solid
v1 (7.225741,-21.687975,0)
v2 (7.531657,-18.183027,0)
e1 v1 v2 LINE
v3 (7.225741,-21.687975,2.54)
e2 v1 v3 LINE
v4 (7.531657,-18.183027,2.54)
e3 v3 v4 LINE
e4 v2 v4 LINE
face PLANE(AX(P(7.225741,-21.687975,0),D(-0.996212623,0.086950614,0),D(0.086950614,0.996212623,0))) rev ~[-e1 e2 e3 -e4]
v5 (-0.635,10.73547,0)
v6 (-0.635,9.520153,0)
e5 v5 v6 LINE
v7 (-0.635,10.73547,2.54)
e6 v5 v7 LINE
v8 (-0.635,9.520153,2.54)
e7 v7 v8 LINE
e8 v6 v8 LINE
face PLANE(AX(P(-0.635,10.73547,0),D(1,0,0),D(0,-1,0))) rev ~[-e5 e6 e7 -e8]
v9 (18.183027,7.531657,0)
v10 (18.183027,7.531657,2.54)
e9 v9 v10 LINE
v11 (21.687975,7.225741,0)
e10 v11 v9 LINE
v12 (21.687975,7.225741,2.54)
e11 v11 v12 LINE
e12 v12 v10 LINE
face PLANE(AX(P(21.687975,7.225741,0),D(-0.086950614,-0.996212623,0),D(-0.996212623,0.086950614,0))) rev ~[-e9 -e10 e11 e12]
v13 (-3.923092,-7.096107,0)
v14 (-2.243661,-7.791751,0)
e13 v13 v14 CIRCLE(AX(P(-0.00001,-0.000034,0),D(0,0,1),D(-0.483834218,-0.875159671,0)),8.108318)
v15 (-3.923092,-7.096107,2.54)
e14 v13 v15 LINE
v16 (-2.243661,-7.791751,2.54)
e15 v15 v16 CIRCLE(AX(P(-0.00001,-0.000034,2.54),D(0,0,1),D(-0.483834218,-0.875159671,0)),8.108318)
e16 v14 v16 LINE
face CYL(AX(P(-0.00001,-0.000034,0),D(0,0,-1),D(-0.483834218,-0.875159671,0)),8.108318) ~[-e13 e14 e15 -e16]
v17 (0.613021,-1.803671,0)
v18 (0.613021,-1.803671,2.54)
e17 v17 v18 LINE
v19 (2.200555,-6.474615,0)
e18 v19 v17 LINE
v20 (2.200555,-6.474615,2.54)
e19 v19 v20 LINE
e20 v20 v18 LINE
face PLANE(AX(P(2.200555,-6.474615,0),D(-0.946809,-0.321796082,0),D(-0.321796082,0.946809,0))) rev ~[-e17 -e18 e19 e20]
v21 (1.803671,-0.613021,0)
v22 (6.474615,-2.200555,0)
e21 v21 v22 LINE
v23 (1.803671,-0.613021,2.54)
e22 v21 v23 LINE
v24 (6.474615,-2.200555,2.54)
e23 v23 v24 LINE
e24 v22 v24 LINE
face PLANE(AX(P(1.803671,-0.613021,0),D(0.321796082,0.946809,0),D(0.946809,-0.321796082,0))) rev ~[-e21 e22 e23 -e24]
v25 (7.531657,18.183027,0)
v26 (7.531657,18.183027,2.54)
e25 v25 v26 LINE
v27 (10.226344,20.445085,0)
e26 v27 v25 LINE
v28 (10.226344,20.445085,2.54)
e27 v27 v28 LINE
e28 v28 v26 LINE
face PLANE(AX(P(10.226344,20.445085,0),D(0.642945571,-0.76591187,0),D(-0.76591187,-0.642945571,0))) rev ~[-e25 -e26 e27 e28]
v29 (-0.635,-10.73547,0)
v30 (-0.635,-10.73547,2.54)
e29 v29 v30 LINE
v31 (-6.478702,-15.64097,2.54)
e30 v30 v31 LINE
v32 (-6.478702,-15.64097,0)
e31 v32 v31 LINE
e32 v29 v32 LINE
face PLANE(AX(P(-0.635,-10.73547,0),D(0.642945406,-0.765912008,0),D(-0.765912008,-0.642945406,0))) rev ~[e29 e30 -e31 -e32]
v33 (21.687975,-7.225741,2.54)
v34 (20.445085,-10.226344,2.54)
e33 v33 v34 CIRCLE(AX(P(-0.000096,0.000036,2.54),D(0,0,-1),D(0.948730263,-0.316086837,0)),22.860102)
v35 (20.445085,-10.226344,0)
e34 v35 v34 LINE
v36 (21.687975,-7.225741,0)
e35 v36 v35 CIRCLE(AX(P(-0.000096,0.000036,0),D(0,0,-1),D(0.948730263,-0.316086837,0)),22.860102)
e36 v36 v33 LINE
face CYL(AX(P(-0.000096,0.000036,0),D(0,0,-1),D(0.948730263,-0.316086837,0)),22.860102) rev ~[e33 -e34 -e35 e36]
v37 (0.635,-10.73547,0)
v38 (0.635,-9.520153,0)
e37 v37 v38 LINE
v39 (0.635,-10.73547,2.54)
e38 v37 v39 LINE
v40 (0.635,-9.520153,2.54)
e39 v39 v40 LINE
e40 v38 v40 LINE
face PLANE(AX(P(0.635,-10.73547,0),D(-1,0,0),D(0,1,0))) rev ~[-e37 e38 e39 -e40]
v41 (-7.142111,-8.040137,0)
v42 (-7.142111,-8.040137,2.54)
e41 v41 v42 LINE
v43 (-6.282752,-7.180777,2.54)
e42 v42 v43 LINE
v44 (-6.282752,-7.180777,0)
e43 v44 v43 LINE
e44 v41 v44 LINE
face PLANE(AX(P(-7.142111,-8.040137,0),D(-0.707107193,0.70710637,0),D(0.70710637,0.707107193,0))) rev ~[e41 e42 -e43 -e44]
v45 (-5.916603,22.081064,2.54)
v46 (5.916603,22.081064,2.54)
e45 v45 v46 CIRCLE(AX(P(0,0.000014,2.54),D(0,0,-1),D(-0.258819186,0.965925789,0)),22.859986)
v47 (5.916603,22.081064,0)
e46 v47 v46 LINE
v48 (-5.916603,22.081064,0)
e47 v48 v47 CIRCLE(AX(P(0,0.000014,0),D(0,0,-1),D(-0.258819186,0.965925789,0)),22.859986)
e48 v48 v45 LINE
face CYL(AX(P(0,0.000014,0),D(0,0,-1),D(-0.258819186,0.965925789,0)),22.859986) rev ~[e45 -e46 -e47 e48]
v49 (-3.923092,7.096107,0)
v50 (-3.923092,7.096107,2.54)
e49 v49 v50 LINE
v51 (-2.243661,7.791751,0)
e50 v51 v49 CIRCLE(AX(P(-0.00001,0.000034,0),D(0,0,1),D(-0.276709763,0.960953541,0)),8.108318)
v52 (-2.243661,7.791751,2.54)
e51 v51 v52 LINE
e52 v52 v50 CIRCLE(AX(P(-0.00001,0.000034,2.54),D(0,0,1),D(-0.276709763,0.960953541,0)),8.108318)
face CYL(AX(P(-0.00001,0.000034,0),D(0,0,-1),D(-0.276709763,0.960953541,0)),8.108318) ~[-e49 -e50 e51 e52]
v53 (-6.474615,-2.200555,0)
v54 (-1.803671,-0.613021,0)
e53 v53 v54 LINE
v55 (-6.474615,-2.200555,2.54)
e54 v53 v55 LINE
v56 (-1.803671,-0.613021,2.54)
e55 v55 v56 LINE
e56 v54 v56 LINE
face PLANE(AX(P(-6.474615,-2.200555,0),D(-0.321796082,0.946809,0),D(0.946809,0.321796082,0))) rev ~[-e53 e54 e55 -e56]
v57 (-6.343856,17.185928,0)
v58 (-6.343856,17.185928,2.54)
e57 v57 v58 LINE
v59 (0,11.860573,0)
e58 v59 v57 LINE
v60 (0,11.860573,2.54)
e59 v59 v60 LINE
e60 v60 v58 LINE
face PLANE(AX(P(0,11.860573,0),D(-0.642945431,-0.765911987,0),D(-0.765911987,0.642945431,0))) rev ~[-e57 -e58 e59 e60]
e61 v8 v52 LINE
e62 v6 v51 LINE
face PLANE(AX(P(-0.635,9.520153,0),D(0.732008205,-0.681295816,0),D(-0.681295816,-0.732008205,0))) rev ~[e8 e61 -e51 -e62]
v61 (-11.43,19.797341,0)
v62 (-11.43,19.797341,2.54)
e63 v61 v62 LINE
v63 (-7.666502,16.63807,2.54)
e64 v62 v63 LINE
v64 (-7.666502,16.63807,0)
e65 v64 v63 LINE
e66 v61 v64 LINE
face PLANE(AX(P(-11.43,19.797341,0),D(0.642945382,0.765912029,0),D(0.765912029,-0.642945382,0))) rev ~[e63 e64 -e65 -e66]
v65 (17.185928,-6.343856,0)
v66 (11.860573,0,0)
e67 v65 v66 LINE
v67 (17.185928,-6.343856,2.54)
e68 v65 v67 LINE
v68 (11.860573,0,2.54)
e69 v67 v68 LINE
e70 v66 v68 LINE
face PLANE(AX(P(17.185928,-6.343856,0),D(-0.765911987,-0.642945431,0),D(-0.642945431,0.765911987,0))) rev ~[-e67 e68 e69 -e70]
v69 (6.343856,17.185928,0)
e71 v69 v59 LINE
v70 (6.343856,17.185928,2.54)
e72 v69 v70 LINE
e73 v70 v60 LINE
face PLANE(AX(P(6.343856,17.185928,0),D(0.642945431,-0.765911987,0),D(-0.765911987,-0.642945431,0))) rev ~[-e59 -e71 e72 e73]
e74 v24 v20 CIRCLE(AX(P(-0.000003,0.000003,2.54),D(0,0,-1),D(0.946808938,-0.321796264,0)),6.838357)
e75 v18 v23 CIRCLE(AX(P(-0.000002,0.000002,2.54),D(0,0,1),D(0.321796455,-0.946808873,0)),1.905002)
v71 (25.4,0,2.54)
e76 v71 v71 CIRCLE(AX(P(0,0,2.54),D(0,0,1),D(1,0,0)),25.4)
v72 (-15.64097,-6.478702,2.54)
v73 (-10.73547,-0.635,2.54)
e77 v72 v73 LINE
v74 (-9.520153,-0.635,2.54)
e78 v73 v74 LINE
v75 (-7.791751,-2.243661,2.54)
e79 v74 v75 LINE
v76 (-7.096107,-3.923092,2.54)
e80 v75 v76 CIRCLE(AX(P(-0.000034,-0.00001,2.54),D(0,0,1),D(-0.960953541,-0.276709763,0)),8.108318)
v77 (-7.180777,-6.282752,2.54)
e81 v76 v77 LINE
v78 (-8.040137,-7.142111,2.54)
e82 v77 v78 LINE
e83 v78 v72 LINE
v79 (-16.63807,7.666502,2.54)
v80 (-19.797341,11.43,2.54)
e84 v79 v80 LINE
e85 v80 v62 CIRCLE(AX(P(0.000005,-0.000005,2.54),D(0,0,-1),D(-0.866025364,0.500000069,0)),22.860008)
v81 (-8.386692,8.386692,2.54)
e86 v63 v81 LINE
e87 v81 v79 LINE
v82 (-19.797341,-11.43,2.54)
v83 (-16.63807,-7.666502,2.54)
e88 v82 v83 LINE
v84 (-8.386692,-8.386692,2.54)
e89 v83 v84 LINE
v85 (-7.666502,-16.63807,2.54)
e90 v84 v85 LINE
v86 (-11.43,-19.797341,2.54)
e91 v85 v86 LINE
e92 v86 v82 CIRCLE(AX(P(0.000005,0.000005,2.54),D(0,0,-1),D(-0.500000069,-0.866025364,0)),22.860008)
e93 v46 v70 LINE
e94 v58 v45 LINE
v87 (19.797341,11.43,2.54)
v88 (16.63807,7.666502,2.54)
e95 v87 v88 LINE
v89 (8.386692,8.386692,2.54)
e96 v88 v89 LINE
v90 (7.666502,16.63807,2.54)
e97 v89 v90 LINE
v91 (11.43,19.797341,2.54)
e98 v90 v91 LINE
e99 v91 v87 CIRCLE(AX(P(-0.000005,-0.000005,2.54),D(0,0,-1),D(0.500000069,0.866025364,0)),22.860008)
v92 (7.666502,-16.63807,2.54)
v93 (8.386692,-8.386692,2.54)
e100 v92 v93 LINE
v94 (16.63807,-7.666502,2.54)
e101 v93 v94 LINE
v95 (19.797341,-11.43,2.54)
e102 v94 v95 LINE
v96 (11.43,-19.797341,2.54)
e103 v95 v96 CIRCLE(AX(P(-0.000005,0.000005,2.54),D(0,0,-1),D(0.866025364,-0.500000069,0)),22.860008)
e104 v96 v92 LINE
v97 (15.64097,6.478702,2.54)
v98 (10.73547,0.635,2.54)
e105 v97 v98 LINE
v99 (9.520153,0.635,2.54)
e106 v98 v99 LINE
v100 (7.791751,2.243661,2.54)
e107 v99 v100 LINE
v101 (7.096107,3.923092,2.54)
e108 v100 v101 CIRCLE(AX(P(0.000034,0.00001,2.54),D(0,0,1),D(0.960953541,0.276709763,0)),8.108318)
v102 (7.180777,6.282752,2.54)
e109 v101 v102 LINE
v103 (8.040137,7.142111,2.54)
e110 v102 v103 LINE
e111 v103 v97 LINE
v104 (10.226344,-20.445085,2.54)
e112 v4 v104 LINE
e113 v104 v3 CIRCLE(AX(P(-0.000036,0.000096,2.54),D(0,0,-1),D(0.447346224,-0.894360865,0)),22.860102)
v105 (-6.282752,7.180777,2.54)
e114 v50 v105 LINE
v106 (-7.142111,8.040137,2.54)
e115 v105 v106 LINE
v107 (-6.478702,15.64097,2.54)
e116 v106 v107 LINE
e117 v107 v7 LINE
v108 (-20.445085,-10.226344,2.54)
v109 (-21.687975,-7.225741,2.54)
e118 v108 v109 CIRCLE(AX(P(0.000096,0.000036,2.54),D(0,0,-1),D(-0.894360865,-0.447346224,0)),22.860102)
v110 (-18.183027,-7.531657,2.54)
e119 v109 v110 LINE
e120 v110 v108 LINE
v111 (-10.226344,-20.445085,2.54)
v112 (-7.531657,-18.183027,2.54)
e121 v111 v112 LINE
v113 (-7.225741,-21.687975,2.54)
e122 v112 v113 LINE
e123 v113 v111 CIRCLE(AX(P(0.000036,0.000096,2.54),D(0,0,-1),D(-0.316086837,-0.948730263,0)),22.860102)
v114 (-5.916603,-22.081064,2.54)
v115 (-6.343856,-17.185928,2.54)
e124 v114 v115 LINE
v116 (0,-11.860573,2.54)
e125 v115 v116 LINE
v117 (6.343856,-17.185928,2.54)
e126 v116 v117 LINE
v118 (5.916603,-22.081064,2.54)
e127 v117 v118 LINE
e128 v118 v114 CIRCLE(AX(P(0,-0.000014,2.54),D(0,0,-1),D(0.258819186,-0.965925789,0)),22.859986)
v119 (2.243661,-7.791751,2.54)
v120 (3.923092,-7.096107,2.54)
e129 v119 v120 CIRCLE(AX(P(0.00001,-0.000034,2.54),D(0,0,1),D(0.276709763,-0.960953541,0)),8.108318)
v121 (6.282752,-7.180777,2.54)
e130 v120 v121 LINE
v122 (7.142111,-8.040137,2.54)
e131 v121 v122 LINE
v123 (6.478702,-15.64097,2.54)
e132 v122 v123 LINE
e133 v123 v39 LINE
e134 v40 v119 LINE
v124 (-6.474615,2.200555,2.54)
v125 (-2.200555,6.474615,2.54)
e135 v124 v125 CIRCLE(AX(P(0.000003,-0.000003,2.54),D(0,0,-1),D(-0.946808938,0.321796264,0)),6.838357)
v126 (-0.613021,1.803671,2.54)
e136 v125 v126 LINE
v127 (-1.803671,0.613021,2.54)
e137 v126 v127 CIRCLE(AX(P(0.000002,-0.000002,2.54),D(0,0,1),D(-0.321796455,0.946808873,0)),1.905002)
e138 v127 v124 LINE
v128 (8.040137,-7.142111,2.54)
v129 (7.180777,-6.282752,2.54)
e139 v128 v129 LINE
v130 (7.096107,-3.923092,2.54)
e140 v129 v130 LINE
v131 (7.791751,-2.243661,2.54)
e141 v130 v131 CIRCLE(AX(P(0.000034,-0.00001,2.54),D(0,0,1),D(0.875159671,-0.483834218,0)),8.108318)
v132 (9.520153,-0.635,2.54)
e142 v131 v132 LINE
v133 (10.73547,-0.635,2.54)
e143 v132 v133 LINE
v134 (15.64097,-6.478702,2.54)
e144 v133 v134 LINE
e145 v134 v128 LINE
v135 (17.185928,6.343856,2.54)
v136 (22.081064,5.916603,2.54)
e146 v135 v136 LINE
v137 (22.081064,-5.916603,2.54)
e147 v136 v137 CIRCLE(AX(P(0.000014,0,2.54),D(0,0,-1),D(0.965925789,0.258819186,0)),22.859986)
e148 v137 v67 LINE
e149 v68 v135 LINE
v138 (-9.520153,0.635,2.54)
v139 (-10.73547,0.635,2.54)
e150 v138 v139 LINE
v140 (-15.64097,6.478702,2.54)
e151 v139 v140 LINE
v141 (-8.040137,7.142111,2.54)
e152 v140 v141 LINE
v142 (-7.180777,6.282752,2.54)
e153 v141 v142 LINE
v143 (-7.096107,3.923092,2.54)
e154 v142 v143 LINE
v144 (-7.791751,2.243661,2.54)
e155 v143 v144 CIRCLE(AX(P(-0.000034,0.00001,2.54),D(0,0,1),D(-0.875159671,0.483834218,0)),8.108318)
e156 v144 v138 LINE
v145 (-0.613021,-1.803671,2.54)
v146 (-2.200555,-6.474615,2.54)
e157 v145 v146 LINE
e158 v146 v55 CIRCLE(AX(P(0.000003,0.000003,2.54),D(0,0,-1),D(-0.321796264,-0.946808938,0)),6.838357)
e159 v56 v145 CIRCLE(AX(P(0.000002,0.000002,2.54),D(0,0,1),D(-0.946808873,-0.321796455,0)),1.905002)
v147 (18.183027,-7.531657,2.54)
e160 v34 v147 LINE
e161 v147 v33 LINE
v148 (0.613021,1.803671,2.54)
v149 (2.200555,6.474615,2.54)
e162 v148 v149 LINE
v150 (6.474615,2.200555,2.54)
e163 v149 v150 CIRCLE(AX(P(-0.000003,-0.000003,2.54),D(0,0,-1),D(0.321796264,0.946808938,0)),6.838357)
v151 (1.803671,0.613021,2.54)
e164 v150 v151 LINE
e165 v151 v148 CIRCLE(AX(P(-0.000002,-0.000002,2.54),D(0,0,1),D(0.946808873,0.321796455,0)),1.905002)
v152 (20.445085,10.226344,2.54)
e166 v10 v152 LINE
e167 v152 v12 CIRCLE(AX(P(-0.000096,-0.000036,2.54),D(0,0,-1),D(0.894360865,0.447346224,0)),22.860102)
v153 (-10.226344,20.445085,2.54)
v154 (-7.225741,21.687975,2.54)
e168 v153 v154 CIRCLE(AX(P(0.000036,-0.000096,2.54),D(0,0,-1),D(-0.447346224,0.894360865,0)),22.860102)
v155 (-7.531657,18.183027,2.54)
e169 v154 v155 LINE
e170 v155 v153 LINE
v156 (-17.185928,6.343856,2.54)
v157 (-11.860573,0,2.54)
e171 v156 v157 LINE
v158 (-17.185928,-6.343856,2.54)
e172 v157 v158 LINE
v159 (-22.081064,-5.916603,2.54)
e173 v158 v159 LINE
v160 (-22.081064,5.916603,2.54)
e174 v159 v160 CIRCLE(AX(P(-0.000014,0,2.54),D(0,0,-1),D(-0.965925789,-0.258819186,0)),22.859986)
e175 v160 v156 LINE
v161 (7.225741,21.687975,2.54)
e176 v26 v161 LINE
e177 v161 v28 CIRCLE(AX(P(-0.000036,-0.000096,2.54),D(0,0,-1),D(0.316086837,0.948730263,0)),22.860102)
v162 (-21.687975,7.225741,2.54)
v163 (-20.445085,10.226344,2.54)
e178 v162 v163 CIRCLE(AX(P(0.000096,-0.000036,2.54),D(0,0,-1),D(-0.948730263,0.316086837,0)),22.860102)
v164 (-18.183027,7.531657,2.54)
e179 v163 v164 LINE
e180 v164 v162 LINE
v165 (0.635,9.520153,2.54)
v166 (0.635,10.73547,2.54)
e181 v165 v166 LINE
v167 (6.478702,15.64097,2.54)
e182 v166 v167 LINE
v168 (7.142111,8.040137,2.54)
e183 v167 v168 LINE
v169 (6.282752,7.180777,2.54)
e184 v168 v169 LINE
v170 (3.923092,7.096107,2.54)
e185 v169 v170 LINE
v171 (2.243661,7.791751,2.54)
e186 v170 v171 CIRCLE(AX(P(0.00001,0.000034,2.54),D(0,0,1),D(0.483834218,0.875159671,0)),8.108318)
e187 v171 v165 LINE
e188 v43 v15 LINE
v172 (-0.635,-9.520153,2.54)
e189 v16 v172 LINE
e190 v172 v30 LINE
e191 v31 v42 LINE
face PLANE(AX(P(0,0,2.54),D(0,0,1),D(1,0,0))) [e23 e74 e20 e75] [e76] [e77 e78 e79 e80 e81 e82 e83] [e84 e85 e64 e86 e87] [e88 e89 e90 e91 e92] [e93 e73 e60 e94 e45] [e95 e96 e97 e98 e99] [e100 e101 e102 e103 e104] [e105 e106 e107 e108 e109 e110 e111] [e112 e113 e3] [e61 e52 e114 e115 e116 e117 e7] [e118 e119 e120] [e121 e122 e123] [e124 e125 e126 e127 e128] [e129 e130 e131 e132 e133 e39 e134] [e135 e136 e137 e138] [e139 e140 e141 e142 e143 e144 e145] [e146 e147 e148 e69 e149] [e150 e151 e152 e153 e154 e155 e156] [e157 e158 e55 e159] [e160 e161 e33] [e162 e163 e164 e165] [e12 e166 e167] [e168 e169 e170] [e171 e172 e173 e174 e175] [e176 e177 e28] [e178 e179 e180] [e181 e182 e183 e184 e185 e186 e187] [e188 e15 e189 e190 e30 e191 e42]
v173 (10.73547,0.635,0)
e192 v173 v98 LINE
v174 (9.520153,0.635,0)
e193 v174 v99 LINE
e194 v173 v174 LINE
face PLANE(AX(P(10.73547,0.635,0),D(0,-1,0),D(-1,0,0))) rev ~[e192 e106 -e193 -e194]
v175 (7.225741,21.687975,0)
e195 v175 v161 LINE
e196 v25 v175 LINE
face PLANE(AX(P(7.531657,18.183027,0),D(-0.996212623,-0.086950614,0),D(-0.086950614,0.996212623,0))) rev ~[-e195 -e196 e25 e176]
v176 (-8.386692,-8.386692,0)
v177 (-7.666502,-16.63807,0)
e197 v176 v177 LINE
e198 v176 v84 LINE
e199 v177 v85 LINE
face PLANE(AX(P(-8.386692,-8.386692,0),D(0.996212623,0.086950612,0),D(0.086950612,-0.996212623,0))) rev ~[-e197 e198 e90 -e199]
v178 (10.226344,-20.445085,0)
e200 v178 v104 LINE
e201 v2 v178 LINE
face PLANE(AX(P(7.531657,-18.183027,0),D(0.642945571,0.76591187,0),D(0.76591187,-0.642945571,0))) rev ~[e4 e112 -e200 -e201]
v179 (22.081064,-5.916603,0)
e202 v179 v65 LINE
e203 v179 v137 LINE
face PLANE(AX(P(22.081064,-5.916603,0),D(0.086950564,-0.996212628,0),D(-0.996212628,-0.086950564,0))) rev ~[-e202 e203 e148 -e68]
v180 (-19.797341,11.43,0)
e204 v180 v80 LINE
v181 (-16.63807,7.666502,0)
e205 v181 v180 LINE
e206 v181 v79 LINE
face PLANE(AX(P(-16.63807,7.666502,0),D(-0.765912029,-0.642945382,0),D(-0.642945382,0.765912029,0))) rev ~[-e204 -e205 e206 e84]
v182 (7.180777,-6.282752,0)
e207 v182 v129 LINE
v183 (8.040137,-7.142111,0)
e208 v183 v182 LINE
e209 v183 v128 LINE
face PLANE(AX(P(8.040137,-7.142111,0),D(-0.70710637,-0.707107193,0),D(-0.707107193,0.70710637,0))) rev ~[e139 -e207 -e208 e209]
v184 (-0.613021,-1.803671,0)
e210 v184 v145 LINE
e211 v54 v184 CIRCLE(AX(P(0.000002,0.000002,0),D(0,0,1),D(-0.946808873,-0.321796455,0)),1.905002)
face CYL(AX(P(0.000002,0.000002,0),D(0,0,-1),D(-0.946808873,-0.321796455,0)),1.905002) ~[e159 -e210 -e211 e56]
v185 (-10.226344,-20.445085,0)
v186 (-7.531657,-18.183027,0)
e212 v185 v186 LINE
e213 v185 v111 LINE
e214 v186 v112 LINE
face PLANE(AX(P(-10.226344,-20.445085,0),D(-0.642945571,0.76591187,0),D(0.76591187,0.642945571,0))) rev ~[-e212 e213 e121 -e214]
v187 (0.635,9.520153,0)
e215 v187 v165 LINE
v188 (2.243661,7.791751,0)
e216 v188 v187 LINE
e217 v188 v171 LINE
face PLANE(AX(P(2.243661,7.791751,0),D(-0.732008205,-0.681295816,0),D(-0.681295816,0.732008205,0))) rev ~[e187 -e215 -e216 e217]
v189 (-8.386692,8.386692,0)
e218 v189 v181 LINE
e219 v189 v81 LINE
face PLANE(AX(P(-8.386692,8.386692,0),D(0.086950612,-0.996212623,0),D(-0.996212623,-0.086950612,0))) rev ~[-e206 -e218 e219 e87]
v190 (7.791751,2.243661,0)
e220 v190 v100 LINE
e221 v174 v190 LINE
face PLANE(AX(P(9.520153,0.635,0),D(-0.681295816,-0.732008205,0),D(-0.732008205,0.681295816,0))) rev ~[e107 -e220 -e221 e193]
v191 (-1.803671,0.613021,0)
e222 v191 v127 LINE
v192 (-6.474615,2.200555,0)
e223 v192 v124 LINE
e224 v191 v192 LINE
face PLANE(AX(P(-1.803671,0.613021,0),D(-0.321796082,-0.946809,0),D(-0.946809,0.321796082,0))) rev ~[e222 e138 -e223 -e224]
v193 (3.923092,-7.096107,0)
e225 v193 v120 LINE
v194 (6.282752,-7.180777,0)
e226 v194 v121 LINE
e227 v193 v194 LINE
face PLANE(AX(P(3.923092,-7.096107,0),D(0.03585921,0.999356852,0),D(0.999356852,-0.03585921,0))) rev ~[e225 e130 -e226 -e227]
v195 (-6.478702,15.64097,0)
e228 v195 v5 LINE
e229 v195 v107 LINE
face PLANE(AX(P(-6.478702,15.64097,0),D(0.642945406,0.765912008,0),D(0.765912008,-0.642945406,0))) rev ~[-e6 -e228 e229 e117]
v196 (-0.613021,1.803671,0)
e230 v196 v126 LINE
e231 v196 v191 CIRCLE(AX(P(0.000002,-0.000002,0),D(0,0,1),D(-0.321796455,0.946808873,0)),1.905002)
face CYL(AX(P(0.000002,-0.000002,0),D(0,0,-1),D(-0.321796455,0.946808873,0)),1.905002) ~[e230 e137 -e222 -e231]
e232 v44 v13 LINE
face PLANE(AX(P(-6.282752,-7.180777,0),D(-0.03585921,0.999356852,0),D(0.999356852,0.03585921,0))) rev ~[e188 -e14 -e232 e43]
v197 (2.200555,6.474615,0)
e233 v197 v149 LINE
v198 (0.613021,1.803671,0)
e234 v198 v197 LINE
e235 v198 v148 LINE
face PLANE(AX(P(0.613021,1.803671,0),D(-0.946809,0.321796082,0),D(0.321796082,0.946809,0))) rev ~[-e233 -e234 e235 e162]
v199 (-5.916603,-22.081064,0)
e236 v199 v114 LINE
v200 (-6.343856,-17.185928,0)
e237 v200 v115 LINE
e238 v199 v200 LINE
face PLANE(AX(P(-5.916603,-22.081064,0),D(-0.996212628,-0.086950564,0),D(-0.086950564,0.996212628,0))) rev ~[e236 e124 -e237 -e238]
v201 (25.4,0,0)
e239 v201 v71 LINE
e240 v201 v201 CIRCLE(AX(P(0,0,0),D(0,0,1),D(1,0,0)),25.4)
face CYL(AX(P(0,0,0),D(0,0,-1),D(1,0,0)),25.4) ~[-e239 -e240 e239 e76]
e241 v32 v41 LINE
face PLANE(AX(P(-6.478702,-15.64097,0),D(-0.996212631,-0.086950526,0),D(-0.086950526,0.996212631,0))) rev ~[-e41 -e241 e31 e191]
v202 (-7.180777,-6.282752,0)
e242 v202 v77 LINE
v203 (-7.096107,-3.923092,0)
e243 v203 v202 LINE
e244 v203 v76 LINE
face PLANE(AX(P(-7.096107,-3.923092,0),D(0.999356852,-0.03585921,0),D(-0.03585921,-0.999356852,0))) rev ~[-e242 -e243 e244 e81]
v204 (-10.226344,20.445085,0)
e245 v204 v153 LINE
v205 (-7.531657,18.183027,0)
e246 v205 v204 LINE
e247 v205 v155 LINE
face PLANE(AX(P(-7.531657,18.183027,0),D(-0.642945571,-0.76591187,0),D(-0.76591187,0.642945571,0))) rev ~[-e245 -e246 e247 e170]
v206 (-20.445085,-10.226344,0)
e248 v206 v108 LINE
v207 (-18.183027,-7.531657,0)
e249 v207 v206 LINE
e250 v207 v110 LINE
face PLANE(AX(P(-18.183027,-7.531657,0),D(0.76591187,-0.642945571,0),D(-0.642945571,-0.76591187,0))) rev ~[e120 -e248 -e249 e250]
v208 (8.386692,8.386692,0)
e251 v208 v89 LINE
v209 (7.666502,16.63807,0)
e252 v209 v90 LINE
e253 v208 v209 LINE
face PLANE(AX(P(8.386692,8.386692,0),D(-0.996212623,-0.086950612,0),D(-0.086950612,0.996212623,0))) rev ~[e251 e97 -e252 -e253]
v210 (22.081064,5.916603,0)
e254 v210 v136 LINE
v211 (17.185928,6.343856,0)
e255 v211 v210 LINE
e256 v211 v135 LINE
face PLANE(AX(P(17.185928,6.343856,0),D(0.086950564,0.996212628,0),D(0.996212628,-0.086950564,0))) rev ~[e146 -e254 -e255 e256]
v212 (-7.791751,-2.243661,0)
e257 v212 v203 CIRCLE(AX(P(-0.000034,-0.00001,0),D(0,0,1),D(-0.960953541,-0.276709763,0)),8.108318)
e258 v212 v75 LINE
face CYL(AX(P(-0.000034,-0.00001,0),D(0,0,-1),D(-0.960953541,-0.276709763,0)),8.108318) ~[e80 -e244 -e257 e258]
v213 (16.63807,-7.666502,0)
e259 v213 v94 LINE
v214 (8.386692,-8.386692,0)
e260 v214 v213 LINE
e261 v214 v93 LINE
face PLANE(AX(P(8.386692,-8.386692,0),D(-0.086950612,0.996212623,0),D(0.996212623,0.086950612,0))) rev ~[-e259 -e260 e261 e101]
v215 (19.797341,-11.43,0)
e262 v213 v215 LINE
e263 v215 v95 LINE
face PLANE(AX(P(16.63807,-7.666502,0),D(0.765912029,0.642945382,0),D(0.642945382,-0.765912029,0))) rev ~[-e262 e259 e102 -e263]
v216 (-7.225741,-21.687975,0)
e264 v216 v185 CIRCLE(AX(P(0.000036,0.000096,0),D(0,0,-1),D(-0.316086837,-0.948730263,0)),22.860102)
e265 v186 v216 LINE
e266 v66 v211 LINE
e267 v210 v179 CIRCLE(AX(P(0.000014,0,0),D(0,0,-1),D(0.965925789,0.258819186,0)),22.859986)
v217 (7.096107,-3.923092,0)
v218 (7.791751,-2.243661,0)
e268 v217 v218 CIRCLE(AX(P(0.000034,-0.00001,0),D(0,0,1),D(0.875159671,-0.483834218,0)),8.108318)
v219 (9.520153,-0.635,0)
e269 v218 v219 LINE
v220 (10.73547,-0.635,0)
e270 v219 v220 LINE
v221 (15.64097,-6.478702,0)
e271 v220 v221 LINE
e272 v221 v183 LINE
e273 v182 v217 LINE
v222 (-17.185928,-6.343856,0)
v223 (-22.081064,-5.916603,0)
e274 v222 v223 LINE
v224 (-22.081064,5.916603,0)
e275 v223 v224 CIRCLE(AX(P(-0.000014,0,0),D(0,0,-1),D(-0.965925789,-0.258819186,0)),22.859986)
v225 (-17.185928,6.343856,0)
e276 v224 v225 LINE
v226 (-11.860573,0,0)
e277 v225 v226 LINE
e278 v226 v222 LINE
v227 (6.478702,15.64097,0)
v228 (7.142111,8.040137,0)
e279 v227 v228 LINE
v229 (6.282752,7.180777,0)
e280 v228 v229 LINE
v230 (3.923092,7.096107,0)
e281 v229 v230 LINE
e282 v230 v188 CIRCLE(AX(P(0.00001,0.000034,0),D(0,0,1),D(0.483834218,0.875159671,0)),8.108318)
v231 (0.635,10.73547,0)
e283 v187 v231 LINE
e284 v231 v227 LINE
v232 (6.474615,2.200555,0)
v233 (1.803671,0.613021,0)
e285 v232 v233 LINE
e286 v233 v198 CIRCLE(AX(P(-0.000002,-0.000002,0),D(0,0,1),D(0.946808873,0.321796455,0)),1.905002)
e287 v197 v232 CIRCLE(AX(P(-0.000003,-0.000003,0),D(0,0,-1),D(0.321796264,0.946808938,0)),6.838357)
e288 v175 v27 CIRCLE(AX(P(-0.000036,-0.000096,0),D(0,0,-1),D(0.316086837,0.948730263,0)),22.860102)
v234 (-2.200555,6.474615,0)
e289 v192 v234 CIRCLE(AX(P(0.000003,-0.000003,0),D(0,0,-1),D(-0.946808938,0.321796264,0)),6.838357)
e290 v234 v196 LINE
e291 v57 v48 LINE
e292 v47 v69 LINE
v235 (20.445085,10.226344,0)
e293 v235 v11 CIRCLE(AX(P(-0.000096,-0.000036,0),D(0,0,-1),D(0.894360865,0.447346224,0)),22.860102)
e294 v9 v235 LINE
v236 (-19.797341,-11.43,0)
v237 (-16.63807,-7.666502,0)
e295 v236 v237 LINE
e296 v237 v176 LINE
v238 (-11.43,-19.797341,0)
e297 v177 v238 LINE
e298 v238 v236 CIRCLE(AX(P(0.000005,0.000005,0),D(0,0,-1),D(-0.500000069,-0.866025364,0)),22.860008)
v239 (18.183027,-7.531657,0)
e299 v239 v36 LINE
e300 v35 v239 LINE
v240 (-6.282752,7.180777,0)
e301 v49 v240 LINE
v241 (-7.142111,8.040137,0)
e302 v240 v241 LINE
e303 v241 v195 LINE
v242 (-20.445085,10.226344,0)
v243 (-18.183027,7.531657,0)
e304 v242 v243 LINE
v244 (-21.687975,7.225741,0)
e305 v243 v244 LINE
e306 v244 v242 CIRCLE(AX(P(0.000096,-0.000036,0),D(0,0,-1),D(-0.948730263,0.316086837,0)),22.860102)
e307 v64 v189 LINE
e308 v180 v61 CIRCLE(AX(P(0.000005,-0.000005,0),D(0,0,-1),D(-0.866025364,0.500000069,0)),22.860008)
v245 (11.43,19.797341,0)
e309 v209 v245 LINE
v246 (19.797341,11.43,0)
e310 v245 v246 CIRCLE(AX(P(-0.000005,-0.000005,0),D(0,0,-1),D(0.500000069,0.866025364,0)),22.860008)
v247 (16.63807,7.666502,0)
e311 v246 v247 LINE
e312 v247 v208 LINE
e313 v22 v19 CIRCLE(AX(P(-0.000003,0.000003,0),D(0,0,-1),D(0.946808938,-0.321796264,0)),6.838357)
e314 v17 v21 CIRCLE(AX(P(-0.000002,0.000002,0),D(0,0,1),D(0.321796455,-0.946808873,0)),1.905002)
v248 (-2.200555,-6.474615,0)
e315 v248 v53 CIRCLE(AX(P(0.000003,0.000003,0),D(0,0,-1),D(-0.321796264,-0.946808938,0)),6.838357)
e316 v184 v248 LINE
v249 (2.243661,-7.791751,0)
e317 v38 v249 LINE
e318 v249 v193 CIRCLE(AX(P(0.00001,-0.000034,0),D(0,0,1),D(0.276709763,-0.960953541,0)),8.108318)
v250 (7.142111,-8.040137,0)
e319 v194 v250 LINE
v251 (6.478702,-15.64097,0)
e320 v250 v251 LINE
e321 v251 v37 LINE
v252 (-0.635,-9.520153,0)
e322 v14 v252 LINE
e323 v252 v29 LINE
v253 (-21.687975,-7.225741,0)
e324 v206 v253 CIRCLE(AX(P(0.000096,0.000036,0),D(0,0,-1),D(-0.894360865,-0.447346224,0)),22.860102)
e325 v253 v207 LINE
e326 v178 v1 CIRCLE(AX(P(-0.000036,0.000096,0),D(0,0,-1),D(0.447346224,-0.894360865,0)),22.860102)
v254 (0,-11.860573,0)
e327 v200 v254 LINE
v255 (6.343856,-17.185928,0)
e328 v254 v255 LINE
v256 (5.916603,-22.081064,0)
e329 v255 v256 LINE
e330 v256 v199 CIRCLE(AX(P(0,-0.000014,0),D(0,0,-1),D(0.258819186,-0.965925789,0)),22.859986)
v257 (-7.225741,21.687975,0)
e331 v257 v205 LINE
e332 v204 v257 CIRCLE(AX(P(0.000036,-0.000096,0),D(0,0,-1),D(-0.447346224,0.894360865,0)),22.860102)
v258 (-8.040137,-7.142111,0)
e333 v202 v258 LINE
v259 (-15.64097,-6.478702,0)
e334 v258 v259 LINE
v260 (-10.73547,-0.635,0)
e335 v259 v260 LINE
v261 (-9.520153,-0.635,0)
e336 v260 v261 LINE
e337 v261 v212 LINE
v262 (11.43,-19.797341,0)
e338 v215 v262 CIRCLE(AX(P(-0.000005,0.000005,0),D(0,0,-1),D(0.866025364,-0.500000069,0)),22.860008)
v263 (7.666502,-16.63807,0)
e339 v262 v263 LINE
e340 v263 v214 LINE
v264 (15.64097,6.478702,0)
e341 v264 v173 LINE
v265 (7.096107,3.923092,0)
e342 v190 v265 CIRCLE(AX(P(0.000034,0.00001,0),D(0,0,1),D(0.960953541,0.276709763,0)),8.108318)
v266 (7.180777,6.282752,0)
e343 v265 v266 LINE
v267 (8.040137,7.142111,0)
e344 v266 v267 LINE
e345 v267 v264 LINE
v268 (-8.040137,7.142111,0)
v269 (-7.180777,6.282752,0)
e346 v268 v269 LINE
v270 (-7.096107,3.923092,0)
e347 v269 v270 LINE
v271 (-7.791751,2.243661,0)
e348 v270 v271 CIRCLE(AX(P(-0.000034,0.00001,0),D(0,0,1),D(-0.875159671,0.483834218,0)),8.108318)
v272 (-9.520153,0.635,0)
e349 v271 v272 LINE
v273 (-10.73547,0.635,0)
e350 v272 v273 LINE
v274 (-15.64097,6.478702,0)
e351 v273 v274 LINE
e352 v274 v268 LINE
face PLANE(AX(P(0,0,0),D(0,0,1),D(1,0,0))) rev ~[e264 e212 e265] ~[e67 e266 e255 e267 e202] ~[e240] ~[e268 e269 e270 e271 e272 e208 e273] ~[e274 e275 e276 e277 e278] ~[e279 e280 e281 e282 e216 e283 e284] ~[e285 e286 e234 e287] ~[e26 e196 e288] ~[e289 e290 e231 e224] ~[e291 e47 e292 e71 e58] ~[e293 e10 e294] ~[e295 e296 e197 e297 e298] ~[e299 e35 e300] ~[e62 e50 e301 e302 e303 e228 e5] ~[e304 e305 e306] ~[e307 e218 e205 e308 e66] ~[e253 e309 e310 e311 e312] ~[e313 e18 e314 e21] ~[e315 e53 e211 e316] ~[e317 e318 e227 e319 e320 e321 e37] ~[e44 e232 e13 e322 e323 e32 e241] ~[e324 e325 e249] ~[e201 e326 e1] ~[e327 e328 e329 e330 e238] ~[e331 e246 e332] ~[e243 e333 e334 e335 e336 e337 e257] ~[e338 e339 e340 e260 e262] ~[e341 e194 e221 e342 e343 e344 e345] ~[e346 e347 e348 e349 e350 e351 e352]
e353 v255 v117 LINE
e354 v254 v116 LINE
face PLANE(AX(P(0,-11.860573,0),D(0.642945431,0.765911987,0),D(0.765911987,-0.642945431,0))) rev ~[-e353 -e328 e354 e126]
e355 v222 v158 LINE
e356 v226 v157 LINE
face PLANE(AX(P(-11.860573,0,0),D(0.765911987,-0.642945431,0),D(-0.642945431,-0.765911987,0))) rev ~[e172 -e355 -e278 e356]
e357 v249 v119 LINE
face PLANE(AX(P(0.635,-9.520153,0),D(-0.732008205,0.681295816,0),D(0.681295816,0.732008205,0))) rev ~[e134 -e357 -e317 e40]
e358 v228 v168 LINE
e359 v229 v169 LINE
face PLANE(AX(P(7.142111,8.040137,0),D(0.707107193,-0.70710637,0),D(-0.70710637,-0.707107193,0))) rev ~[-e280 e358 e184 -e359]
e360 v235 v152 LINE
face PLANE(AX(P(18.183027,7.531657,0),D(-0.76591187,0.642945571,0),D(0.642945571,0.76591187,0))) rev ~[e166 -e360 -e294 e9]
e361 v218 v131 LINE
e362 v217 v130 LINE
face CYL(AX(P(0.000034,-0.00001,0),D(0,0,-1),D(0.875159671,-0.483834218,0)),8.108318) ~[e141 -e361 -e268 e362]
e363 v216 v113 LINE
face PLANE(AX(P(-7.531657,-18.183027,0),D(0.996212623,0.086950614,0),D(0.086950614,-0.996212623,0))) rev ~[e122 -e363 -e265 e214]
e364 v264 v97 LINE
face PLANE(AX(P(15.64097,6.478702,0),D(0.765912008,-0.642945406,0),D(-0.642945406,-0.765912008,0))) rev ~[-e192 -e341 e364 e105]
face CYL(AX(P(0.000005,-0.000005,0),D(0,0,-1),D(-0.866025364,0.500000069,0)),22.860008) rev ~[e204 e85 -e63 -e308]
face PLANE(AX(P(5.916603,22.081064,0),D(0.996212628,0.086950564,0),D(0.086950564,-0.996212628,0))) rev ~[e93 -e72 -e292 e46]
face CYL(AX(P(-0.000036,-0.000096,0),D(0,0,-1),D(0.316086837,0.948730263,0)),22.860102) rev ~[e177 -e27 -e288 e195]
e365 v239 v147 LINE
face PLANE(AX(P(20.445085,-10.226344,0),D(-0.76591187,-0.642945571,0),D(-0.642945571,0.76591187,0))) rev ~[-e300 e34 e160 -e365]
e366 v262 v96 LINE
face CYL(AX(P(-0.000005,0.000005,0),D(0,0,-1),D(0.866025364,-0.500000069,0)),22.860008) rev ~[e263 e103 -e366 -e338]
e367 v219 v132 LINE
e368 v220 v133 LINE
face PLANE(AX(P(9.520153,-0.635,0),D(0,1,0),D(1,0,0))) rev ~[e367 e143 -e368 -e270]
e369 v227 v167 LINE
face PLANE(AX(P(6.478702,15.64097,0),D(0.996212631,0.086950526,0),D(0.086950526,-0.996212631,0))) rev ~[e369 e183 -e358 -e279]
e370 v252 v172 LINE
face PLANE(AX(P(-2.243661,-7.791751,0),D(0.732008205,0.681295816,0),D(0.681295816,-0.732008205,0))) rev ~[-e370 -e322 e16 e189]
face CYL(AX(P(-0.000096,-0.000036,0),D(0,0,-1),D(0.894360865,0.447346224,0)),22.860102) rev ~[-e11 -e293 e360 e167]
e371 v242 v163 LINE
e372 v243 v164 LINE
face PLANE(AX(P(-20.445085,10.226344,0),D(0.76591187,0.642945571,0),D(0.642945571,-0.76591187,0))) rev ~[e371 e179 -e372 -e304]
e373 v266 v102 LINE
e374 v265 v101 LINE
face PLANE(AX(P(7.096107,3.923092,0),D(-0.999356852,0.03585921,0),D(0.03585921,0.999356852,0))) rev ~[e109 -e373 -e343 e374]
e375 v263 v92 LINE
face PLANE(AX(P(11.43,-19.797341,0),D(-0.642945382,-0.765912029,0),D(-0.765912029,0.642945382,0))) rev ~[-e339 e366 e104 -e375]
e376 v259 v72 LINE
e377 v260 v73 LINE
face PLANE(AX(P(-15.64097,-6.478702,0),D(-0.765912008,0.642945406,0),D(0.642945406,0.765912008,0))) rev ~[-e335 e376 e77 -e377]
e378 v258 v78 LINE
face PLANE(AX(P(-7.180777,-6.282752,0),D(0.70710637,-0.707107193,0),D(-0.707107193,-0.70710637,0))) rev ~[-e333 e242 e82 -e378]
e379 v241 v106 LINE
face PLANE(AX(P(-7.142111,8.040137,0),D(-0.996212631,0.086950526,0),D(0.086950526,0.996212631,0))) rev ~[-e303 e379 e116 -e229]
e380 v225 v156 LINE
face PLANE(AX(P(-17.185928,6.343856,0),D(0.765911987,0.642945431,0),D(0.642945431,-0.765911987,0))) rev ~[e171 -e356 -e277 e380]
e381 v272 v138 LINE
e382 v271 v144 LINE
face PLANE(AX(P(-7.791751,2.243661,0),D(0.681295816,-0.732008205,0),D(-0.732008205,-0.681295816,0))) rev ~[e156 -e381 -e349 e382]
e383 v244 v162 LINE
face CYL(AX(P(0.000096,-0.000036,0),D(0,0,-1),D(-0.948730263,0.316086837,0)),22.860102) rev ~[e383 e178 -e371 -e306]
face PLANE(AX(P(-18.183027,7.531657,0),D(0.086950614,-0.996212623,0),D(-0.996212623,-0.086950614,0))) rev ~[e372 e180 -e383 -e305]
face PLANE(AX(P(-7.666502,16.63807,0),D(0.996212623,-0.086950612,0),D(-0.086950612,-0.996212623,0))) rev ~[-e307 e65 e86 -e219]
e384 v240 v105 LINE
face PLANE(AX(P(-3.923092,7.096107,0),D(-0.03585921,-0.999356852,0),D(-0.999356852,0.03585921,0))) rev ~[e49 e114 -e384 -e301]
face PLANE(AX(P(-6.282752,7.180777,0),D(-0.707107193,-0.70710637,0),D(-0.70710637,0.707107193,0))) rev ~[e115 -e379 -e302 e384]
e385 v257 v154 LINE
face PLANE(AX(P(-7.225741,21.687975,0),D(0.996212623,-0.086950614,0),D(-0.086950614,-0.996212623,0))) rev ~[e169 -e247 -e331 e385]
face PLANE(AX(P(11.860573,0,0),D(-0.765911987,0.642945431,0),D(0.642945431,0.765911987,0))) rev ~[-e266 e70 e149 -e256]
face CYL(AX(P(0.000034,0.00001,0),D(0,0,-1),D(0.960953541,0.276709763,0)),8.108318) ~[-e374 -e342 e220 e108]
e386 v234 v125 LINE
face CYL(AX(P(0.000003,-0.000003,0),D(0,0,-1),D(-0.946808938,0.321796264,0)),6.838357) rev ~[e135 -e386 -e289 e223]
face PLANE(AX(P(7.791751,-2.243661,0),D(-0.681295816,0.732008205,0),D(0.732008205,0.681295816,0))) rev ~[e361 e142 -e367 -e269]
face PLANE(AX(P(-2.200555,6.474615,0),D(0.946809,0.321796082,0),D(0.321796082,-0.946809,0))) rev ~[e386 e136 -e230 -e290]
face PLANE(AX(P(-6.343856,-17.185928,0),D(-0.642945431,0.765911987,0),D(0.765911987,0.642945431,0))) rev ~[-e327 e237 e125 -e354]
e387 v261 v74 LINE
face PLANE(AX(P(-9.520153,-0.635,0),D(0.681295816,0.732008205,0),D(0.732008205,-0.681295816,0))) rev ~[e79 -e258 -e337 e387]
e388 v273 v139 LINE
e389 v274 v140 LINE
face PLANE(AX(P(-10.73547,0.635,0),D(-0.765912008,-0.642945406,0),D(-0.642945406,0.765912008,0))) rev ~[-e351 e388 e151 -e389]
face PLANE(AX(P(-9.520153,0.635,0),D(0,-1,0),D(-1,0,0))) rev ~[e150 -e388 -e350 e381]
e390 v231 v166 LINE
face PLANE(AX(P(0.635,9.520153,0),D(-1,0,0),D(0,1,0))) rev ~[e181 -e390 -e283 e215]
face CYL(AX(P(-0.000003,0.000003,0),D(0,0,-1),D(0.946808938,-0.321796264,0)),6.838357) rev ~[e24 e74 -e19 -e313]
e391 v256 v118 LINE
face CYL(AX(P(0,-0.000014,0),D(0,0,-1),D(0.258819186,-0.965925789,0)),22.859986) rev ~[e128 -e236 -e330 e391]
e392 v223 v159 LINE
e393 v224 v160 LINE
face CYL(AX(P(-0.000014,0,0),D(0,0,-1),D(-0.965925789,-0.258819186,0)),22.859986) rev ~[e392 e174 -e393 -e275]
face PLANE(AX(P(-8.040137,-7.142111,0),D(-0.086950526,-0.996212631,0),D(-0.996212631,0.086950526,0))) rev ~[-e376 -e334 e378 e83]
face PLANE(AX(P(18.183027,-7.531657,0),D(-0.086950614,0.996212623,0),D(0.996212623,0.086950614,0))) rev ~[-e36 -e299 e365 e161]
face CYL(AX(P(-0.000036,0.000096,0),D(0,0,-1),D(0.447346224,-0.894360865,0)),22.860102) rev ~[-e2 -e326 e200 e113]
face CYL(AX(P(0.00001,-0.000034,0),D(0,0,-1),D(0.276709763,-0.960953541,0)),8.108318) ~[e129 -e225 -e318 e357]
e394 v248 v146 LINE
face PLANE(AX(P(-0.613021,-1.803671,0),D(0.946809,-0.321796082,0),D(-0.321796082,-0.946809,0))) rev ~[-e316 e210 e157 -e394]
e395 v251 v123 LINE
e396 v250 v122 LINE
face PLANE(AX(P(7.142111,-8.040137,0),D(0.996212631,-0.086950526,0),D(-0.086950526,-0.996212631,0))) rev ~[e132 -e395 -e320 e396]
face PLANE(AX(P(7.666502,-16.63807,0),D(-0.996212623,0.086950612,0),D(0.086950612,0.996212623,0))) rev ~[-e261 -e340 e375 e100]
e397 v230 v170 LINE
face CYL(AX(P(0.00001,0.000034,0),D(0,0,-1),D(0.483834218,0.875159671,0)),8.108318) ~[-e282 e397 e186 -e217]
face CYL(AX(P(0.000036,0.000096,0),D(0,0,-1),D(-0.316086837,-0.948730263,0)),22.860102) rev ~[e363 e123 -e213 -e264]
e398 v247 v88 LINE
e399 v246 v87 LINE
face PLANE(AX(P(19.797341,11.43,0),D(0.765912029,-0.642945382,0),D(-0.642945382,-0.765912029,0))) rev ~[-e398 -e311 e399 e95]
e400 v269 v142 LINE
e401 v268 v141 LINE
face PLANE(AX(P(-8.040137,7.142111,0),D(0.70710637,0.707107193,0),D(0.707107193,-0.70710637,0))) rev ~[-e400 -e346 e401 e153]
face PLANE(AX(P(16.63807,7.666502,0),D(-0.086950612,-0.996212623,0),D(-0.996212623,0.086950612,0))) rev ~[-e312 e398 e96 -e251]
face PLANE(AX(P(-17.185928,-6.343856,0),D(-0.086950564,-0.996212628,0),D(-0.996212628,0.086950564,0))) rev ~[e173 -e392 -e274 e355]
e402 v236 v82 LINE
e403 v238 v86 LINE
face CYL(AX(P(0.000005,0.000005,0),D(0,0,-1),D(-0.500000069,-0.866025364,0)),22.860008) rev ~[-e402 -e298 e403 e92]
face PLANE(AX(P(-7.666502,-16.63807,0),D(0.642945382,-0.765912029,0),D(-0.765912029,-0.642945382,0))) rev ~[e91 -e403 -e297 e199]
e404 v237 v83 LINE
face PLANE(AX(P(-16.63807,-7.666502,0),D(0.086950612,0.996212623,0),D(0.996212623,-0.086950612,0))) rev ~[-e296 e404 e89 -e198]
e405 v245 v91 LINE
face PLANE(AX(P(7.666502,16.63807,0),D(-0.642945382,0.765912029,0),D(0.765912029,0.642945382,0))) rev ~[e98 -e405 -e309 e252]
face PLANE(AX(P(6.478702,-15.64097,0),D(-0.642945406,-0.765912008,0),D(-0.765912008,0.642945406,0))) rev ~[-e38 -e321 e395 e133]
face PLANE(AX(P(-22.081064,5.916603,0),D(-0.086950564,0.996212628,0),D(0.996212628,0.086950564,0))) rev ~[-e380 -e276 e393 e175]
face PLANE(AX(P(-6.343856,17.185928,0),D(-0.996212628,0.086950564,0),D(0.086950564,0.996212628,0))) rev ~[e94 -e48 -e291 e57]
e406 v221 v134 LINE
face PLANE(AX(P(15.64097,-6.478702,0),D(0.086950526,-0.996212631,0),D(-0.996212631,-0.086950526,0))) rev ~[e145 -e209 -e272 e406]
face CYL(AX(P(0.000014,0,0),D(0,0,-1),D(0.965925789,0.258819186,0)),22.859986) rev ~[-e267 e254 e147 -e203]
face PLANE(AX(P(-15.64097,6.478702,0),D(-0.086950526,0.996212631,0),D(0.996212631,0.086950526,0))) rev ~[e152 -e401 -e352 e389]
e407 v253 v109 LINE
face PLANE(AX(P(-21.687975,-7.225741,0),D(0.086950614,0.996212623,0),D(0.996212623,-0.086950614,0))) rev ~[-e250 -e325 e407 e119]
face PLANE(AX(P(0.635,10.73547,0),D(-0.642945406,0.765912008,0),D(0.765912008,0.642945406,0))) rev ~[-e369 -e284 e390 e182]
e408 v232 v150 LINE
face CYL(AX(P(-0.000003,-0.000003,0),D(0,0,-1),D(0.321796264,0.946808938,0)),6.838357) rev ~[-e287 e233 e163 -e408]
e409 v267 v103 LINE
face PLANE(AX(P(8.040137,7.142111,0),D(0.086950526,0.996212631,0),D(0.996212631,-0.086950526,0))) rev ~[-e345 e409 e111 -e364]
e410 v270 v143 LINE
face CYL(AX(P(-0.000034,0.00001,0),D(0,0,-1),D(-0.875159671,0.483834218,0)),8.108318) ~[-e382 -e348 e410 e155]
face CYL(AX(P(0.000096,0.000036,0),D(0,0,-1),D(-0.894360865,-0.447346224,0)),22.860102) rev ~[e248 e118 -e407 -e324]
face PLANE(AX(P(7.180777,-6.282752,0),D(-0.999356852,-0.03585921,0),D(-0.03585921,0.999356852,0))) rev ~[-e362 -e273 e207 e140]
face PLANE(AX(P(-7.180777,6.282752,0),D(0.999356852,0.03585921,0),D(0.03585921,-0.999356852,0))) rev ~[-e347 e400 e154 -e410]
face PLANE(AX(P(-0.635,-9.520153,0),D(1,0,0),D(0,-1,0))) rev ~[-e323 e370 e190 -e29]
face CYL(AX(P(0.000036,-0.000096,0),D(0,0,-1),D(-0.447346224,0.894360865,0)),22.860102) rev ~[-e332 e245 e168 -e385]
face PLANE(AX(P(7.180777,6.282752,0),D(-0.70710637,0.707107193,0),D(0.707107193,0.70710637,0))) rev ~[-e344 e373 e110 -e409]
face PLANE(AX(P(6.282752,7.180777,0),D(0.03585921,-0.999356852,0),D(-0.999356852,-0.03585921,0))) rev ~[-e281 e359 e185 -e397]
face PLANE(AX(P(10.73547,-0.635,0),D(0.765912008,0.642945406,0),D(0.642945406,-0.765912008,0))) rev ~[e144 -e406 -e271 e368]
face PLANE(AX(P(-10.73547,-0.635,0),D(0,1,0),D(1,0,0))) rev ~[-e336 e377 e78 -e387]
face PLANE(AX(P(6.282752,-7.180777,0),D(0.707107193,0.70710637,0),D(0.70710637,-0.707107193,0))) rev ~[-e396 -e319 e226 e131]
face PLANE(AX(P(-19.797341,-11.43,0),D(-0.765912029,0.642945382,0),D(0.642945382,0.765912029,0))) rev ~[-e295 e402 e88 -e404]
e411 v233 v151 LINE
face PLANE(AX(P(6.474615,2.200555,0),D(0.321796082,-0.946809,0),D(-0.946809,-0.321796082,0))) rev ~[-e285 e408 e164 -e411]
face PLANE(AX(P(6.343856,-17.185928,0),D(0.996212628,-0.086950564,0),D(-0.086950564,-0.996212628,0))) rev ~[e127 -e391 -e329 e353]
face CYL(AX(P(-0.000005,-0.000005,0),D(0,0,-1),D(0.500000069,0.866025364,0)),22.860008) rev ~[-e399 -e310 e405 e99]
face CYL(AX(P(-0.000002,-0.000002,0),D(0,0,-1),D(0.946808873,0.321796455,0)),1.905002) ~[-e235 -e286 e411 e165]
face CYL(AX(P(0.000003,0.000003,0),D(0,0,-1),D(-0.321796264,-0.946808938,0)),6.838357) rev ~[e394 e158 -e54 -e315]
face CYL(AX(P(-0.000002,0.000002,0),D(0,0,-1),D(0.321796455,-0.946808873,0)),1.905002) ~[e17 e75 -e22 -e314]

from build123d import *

# Parameters (mm, degrees)
F0_R     = 25.4
F1_DEPTH = 2.54


with BuildPart() as f1:
    # F0 (on Top) → F1 (new body)
    with BuildSketch(Plane.XY):
        Circle(F0_R)
        with BuildLine():
            Line((-16.63807, -7.666502), (-8.386692, -8.386692))
            Line((-8.386692, -8.386692), (-7.666502, -16.63807))
            Line((-7.666502, -16.63807), (-11.43, -19.797341))
            ThreePointArc((-11.43, -19.797341), (-16.164461, -16.164461), (-19.797341, -11.43))
            Line((-19.797341, -11.43), (-16.63807, -7.666502))
        make_face(mode=Mode.SUBTRACT)
        with BuildLine():
            ThreePointArc((-7.225741, -21.687975), (-8.748143, -21.119886), (-10.226344, -20.445085))
            Line((-10.226344, -20.445085), (-7.531657, -18.183027))
            Line((-7.531657, -18.183027), (-7.225741, -21.687975))
        make_face(mode=Mode.SUBTRACT)
        with BuildLine():
            Line((-6.343856, -17.185928), (0, -11.860573))
            Line((0, -11.860573), (6.343856, -17.185928))
            Line((6.343856, -17.185928), (5.916603, -22.081064))
            ThreePointArc((5.916603, -22.081064), (0, -22.86), (-5.916603, -22.081064))
            Line((-5.916603, -22.081064), (-6.343856, -17.185928))
        make_face(mode=Mode.SUBTRACT)
        with BuildLine():
            Line((-21.687975, -7.225741), (-18.183027, -7.531657))
            Line((-18.183027, -7.531657), (-20.445085, -10.226344))
            ThreePointArc((-20.445085, -10.226344), (-21.119886, -8.748143), (-21.687975, -7.225741))
        make_face(mode=Mode.SUBTRACT)
        with BuildLine():
            Line((-7.142111, -8.040137), (-6.282752, -7.180777))
            Line((-6.282752, -7.180777), (-3.923092, -7.096107))
            ThreePointArc((-3.923092, -7.096107), (-3.102932, -7.491142), (-2.243661, -7.791751))
            Line((-2.243661, -7.791751), (-0.635, -9.520153))
            Line((-0.635, -9.520153), (-0.635, -10.73547))
            Line((-0.635, -10.73547), (-6.478702, -15.64097))
            Line((-6.478702, -15.64097), (-7.142111, -8.040137))
        make_face(mode=Mode.SUBTRACT)
        with BuildLine():
            Line((-10.73547, -0.635), (-9.520153, -0.635))
            Line((-9.520153, -0.635), (-7.791751, -2.243661))
            ThreePointArc((-7.791751, -2.243661), (-7.491142, -3.102932), (-7.096107, -3.923092))
            Line((-7.096107, -3.923092), (-7.180777, -6.282752))
            Line((-7.180777, -6.282752), (-8.040137, -7.142111))
            Line((-8.040137, -7.142111), (-15.64097, -6.478702))
            Line((-15.64097, -6.478702), (-10.73547, -0.635))
        make_face(mode=Mode.SUBTRACT)
        with BuildLine():
            Line((-6.474615, -2.200555), (-1.803671, -0.613021))
            ThreePointArc((-1.803671, -0.613021), (-1.347038, -1.347038), (-0.613021, -1.803671))
            Line((-0.613021, -1.803671), (-2.200555, -6.474615))
            ThreePointArc((-2.200555, -6.474615), (-4.835446, -4.835446), (-6.474615, -2.200555))
        make_face(mode=Mode.SUBTRACT)
        with BuildLine():
            ThreePointArc((10.226344, -20.445085), (8.748143, -21.119886), (7.225741, -21.687975))
            Line((7.225741, -21.687975), (7.531657, -18.183027))
            Line((7.531657, -18.183027), (10.226344, -20.445085))
        make_face(mode=Mode.SUBTRACT)
        with BuildLine():
            Line((7.666502, -16.63807), (8.386692, -8.386692))
            Line((8.386692, -8.386692), (16.63807, -7.666502))
            Line((16.63807, -7.666502), (19.797341, -11.43))
            ThreePointArc((19.797341, -11.43), (16.164461, -16.164461), (11.43, -19.797341))
            Line((11.43, -19.797341), (7.666502, -16.63807))
        make_face(mode=Mode.SUBTRACT)
        with BuildLine():
            Line((0.635, -10.73547), (0.635, -9.520153))
            Line((0.635, -9.520153), (2.243661, -7.791751))
            ThreePointArc((2.243661, -7.791751), (3.102932, -7.491142), (3.923092, -7.096107))
            Line((3.923092, -7.096107), (6.282752, -7.180777))
            Line((6.282752, -7.180777), (7.142111, -8.040137))
            Line((7.142111, -8.040137), (6.478702, -15.64097))
            Line((6.478702, -15.64097), (0.635, -10.73547))
        make_face(mode=Mode.SUBTRACT)
        with BuildLine():
            Line((2.200555, -6.474615), (0.613021, -1.803671))
            ThreePointArc((0.613021, -1.803671), (1.347038, -1.347038), (1.803671, -0.613021))
            Line((1.803671, -0.613021), (6.474615, -2.200555))
            ThreePointArc((6.474615, -2.200555), (4.835446, -4.835446), (2.200555, -6.474615))
        make_face(mode=Mode.SUBTRACT)
        with BuildLine():
            Line((8.040137, -7.142111), (7.180777, -6.282752))
            Line((7.180777, -6.282752), (7.096107, -3.923092))
            ThreePointArc((7.096107, -3.923092), (7.491142, -3.102932), (7.791751, -2.243661))
            Line((7.791751, -2.243661), (9.520153, -0.635))
            Line((9.520153, -0.635), (10.73547, -0.635))
            Line((10.73547, -0.635), (15.64097, -6.478702))
            Line((15.64097, -6.478702), (8.040137, -7.142111))
        make_face(mode=Mode.SUBTRACT)
        with BuildLine():
            ThreePointArc((21.687975, -7.225741), (21.119886, -8.748143), (20.445085, -10.226344))
            Line((20.445085, -10.226344), (18.183027, -7.531657))
            Line((18.183027, -7.531657), (21.687975, -7.225741))
        make_face(mode=Mode.SUBTRACT)
        with BuildLine():
            Line((17.185928, -6.343856), (11.860573, 0))
            Line((11.860573, 0), (17.185928, 6.343856))
            Line((17.185928, 6.343856), (22.081064, 5.916603))
            ThreePointArc((22.081064, 5.916603), (22.86, 0), (22.081064, -5.916603))
            Line((22.081064, -5.916603), (17.185928, -6.343856))
        make_face(mode=Mode.SUBTRACT)
        with BuildLine():
            Line((-17.185928, 6.343856), (-11.860573, 0))
            Line((-11.860573, 0), (-17.185928, -6.343856))
            Line((-17.185928, -6.343856), (-22.081064, -5.916603))
            ThreePointArc((-22.081064, -5.916603), (-22.86, 0), (-22.081064, 5.916603))
            Line((-22.081064, 5.916603), (-17.185928, 6.343856))
        make_face(mode=Mode.SUBTRACT)
        with BuildLine():
            Line((-20.445085, 10.226344), (-18.183027, 7.531657))
            Line((-18.183027, 7.531657), (-21.687975, 7.225741))
            ThreePointArc((-21.687975, 7.225741), (-21.119886, 8.748143), (-20.445085, 10.226344))
        make_face(mode=Mode.SUBTRACT)
        with BuildLine():
            Line((-8.040137, 7.142111), (-7.180777, 6.282752))
            Line((-7.180777, 6.282752), (-7.096107, 3.923092))
            ThreePointArc((-7.096107, 3.923092), (-7.491142, 3.102932), (-7.791751, 2.243661))
            Line((-7.791751, 2.243661), (-9.520153, 0.635))
            Line((-9.520153, 0.635), (-10.73547, 0.635))
            Line((-10.73547, 0.635), (-15.64097, 6.478702))
            Line((-15.64097, 6.478702), (-8.040137, 7.142111))
        make_face(mode=Mode.SUBTRACT)
        with BuildLine():
            Line((-2.200555, 6.474615), (-0.613021, 1.803671))
            ThreePointArc((-0.613021, 1.803671), (-1.347038, 1.347038), (-1.803671, 0.613021))
            Line((-1.803671, 0.613021), (-6.474615, 2.200555))
            ThreePointArc((-6.474615, 2.200555), (-4.835446, 4.835446), (-2.200555, 6.474615))
        make_face(mode=Mode.SUBTRACT)
        with BuildLine():
            Line((-0.635, 10.73547), (-0.635, 9.520153))
            Line((-0.635, 9.520153), (-2.243661, 7.791751))
            ThreePointArc((-2.243661, 7.791751), (-3.102932, 7.491142), (-3.923092, 7.096107))
            Line((-3.923092, 7.096107), (-6.282752, 7.180777))
            Line((-6.282752, 7.180777), (-7.142111, 8.040137))
            Line((-7.142111, 8.040137), (-6.478702, 15.64097))
            Line((-6.478702, 15.64097), (-0.635, 10.73547))
        make_face(mode=Mode.SUBTRACT)
        with BuildLine():
            ThreePointArc((-19.797341, 11.43), (-16.164461, 16.164461), (-11.43, 19.797341))
            Line((-11.43, 19.797341), (-7.666502, 16.63807))
            Line((-7.666502, 16.63807), (-8.386692, 8.386692))
            Line((-8.386692, 8.386692), (-16.63807, 7.666502))
            Line((-16.63807, 7.666502), (-19.797341, 11.43))
        make_face(mode=Mode.SUBTRACT)
        with BuildLine():
            Line((-7.225741, 21.687975), (-7.531657, 18.183027))
            Line((-7.531657, 18.183027), (-10.226344, 20.445085))
            ThreePointArc((-10.226344, 20.445085), (-8.748143, 21.119886), (-7.225741, 21.687975))
        make_face(mode=Mode.SUBTRACT)
        with BuildLine():
            ThreePointArc((1.803671, 0.613021), (1.347038, 1.347038), (0.613021, 1.803671))
            Line((0.613021, 1.803671), (2.200555, 6.474615))
            ThreePointArc((2.200555, 6.474615), (4.835446, 4.835446), (6.474615, 2.200555))
            Line((6.474615, 2.200555), (1.803671, 0.613021))
        make_face(mode=Mode.SUBTRACT)
        with BuildLine():
            Line((10.73547, 0.635), (9.520153, 0.635))
            Line((9.520153, 0.635), (7.791751, 2.243661))
            ThreePointArc((7.791751, 2.243661), (7.491142, 3.102932), (7.096107, 3.923092))
            Line((7.096107, 3.923092), (7.180777, 6.282752))
            Line((7.180777, 6.282752), (8.040137, 7.142111))
            Line((8.040137, 7.142111), (15.64097, 6.478702))
            Line((15.64097, 6.478702), (10.73547, 0.635))
        make_face(mode=Mode.SUBTRACT)
        with BuildLine():
            Line((2.243661, 7.791751), (0.635, 9.520153))
            Line((0.635, 9.520153), (0.635, 10.73547))
            Line((0.635, 10.73547), (6.478702, 15.64097))
            Line((6.478702, 15.64097), (7.142111, 8.040137))
            Line((7.142111, 8.040137), (6.282752, 7.180777))
            Line((6.282752, 7.180777), (3.923092, 7.096107))
            ThreePointArc((3.923092, 7.096107), (3.102932, 7.491142), (2.243661, 7.791751))
        make_face(mode=Mode.SUBTRACT)
        with BuildLine():
            ThreePointArc((20.445085, 10.226344), (21.119886, 8.748143), (21.687975, 7.225741))
            Line((21.687975, 7.225741), (18.183027, 7.531657))
            Line((18.183027, 7.531657), (20.445085, 10.226344))
        make_face(mode=Mode.SUBTRACT)
        with BuildLine():
            Line((6.343856, 17.185928), (0, 11.860573))
            Line((0, 11.860573), (-6.343856, 17.185928))
            Line((-6.343856, 17.185928), (-5.916603, 22.081064))
            ThreePointArc((-5.916603, 22.081064), (0, 22.86), (5.916603, 22.081064))
            Line((5.916603, 22.081064), (6.343856, 17.185928))
        make_face(mode=Mode.SUBTRACT)
        with BuildLine():
            ThreePointArc((7.225741, 21.687975), (8.748143, 21.119886), (10.226344, 20.445085))
            Line((10.226344, 20.445085), (7.531657, 18.183027))
            Line((7.531657, 18.183027), (7.225741, 21.687975))
        make_face(mode=Mode.SUBTRACT)
        with BuildLine():
            Line((16.63807, 7.666502), (8.386692, 8.386692))
            Line((8.386692, 8.386692), (7.666502, 16.63807))
            Line((7.666502, 16.63807), (11.43, 19.797341))
            ThreePointArc((11.43, 19.797341), (16.164461, 16.164461), (19.797341, 11.43))
            Line((19.797341, 11.43), (16.63807, 7.666502))
        make_face(mode=Mode.SUBTRACT)
    extrude(amount=F1_DEPTH)


solid = f1.part
